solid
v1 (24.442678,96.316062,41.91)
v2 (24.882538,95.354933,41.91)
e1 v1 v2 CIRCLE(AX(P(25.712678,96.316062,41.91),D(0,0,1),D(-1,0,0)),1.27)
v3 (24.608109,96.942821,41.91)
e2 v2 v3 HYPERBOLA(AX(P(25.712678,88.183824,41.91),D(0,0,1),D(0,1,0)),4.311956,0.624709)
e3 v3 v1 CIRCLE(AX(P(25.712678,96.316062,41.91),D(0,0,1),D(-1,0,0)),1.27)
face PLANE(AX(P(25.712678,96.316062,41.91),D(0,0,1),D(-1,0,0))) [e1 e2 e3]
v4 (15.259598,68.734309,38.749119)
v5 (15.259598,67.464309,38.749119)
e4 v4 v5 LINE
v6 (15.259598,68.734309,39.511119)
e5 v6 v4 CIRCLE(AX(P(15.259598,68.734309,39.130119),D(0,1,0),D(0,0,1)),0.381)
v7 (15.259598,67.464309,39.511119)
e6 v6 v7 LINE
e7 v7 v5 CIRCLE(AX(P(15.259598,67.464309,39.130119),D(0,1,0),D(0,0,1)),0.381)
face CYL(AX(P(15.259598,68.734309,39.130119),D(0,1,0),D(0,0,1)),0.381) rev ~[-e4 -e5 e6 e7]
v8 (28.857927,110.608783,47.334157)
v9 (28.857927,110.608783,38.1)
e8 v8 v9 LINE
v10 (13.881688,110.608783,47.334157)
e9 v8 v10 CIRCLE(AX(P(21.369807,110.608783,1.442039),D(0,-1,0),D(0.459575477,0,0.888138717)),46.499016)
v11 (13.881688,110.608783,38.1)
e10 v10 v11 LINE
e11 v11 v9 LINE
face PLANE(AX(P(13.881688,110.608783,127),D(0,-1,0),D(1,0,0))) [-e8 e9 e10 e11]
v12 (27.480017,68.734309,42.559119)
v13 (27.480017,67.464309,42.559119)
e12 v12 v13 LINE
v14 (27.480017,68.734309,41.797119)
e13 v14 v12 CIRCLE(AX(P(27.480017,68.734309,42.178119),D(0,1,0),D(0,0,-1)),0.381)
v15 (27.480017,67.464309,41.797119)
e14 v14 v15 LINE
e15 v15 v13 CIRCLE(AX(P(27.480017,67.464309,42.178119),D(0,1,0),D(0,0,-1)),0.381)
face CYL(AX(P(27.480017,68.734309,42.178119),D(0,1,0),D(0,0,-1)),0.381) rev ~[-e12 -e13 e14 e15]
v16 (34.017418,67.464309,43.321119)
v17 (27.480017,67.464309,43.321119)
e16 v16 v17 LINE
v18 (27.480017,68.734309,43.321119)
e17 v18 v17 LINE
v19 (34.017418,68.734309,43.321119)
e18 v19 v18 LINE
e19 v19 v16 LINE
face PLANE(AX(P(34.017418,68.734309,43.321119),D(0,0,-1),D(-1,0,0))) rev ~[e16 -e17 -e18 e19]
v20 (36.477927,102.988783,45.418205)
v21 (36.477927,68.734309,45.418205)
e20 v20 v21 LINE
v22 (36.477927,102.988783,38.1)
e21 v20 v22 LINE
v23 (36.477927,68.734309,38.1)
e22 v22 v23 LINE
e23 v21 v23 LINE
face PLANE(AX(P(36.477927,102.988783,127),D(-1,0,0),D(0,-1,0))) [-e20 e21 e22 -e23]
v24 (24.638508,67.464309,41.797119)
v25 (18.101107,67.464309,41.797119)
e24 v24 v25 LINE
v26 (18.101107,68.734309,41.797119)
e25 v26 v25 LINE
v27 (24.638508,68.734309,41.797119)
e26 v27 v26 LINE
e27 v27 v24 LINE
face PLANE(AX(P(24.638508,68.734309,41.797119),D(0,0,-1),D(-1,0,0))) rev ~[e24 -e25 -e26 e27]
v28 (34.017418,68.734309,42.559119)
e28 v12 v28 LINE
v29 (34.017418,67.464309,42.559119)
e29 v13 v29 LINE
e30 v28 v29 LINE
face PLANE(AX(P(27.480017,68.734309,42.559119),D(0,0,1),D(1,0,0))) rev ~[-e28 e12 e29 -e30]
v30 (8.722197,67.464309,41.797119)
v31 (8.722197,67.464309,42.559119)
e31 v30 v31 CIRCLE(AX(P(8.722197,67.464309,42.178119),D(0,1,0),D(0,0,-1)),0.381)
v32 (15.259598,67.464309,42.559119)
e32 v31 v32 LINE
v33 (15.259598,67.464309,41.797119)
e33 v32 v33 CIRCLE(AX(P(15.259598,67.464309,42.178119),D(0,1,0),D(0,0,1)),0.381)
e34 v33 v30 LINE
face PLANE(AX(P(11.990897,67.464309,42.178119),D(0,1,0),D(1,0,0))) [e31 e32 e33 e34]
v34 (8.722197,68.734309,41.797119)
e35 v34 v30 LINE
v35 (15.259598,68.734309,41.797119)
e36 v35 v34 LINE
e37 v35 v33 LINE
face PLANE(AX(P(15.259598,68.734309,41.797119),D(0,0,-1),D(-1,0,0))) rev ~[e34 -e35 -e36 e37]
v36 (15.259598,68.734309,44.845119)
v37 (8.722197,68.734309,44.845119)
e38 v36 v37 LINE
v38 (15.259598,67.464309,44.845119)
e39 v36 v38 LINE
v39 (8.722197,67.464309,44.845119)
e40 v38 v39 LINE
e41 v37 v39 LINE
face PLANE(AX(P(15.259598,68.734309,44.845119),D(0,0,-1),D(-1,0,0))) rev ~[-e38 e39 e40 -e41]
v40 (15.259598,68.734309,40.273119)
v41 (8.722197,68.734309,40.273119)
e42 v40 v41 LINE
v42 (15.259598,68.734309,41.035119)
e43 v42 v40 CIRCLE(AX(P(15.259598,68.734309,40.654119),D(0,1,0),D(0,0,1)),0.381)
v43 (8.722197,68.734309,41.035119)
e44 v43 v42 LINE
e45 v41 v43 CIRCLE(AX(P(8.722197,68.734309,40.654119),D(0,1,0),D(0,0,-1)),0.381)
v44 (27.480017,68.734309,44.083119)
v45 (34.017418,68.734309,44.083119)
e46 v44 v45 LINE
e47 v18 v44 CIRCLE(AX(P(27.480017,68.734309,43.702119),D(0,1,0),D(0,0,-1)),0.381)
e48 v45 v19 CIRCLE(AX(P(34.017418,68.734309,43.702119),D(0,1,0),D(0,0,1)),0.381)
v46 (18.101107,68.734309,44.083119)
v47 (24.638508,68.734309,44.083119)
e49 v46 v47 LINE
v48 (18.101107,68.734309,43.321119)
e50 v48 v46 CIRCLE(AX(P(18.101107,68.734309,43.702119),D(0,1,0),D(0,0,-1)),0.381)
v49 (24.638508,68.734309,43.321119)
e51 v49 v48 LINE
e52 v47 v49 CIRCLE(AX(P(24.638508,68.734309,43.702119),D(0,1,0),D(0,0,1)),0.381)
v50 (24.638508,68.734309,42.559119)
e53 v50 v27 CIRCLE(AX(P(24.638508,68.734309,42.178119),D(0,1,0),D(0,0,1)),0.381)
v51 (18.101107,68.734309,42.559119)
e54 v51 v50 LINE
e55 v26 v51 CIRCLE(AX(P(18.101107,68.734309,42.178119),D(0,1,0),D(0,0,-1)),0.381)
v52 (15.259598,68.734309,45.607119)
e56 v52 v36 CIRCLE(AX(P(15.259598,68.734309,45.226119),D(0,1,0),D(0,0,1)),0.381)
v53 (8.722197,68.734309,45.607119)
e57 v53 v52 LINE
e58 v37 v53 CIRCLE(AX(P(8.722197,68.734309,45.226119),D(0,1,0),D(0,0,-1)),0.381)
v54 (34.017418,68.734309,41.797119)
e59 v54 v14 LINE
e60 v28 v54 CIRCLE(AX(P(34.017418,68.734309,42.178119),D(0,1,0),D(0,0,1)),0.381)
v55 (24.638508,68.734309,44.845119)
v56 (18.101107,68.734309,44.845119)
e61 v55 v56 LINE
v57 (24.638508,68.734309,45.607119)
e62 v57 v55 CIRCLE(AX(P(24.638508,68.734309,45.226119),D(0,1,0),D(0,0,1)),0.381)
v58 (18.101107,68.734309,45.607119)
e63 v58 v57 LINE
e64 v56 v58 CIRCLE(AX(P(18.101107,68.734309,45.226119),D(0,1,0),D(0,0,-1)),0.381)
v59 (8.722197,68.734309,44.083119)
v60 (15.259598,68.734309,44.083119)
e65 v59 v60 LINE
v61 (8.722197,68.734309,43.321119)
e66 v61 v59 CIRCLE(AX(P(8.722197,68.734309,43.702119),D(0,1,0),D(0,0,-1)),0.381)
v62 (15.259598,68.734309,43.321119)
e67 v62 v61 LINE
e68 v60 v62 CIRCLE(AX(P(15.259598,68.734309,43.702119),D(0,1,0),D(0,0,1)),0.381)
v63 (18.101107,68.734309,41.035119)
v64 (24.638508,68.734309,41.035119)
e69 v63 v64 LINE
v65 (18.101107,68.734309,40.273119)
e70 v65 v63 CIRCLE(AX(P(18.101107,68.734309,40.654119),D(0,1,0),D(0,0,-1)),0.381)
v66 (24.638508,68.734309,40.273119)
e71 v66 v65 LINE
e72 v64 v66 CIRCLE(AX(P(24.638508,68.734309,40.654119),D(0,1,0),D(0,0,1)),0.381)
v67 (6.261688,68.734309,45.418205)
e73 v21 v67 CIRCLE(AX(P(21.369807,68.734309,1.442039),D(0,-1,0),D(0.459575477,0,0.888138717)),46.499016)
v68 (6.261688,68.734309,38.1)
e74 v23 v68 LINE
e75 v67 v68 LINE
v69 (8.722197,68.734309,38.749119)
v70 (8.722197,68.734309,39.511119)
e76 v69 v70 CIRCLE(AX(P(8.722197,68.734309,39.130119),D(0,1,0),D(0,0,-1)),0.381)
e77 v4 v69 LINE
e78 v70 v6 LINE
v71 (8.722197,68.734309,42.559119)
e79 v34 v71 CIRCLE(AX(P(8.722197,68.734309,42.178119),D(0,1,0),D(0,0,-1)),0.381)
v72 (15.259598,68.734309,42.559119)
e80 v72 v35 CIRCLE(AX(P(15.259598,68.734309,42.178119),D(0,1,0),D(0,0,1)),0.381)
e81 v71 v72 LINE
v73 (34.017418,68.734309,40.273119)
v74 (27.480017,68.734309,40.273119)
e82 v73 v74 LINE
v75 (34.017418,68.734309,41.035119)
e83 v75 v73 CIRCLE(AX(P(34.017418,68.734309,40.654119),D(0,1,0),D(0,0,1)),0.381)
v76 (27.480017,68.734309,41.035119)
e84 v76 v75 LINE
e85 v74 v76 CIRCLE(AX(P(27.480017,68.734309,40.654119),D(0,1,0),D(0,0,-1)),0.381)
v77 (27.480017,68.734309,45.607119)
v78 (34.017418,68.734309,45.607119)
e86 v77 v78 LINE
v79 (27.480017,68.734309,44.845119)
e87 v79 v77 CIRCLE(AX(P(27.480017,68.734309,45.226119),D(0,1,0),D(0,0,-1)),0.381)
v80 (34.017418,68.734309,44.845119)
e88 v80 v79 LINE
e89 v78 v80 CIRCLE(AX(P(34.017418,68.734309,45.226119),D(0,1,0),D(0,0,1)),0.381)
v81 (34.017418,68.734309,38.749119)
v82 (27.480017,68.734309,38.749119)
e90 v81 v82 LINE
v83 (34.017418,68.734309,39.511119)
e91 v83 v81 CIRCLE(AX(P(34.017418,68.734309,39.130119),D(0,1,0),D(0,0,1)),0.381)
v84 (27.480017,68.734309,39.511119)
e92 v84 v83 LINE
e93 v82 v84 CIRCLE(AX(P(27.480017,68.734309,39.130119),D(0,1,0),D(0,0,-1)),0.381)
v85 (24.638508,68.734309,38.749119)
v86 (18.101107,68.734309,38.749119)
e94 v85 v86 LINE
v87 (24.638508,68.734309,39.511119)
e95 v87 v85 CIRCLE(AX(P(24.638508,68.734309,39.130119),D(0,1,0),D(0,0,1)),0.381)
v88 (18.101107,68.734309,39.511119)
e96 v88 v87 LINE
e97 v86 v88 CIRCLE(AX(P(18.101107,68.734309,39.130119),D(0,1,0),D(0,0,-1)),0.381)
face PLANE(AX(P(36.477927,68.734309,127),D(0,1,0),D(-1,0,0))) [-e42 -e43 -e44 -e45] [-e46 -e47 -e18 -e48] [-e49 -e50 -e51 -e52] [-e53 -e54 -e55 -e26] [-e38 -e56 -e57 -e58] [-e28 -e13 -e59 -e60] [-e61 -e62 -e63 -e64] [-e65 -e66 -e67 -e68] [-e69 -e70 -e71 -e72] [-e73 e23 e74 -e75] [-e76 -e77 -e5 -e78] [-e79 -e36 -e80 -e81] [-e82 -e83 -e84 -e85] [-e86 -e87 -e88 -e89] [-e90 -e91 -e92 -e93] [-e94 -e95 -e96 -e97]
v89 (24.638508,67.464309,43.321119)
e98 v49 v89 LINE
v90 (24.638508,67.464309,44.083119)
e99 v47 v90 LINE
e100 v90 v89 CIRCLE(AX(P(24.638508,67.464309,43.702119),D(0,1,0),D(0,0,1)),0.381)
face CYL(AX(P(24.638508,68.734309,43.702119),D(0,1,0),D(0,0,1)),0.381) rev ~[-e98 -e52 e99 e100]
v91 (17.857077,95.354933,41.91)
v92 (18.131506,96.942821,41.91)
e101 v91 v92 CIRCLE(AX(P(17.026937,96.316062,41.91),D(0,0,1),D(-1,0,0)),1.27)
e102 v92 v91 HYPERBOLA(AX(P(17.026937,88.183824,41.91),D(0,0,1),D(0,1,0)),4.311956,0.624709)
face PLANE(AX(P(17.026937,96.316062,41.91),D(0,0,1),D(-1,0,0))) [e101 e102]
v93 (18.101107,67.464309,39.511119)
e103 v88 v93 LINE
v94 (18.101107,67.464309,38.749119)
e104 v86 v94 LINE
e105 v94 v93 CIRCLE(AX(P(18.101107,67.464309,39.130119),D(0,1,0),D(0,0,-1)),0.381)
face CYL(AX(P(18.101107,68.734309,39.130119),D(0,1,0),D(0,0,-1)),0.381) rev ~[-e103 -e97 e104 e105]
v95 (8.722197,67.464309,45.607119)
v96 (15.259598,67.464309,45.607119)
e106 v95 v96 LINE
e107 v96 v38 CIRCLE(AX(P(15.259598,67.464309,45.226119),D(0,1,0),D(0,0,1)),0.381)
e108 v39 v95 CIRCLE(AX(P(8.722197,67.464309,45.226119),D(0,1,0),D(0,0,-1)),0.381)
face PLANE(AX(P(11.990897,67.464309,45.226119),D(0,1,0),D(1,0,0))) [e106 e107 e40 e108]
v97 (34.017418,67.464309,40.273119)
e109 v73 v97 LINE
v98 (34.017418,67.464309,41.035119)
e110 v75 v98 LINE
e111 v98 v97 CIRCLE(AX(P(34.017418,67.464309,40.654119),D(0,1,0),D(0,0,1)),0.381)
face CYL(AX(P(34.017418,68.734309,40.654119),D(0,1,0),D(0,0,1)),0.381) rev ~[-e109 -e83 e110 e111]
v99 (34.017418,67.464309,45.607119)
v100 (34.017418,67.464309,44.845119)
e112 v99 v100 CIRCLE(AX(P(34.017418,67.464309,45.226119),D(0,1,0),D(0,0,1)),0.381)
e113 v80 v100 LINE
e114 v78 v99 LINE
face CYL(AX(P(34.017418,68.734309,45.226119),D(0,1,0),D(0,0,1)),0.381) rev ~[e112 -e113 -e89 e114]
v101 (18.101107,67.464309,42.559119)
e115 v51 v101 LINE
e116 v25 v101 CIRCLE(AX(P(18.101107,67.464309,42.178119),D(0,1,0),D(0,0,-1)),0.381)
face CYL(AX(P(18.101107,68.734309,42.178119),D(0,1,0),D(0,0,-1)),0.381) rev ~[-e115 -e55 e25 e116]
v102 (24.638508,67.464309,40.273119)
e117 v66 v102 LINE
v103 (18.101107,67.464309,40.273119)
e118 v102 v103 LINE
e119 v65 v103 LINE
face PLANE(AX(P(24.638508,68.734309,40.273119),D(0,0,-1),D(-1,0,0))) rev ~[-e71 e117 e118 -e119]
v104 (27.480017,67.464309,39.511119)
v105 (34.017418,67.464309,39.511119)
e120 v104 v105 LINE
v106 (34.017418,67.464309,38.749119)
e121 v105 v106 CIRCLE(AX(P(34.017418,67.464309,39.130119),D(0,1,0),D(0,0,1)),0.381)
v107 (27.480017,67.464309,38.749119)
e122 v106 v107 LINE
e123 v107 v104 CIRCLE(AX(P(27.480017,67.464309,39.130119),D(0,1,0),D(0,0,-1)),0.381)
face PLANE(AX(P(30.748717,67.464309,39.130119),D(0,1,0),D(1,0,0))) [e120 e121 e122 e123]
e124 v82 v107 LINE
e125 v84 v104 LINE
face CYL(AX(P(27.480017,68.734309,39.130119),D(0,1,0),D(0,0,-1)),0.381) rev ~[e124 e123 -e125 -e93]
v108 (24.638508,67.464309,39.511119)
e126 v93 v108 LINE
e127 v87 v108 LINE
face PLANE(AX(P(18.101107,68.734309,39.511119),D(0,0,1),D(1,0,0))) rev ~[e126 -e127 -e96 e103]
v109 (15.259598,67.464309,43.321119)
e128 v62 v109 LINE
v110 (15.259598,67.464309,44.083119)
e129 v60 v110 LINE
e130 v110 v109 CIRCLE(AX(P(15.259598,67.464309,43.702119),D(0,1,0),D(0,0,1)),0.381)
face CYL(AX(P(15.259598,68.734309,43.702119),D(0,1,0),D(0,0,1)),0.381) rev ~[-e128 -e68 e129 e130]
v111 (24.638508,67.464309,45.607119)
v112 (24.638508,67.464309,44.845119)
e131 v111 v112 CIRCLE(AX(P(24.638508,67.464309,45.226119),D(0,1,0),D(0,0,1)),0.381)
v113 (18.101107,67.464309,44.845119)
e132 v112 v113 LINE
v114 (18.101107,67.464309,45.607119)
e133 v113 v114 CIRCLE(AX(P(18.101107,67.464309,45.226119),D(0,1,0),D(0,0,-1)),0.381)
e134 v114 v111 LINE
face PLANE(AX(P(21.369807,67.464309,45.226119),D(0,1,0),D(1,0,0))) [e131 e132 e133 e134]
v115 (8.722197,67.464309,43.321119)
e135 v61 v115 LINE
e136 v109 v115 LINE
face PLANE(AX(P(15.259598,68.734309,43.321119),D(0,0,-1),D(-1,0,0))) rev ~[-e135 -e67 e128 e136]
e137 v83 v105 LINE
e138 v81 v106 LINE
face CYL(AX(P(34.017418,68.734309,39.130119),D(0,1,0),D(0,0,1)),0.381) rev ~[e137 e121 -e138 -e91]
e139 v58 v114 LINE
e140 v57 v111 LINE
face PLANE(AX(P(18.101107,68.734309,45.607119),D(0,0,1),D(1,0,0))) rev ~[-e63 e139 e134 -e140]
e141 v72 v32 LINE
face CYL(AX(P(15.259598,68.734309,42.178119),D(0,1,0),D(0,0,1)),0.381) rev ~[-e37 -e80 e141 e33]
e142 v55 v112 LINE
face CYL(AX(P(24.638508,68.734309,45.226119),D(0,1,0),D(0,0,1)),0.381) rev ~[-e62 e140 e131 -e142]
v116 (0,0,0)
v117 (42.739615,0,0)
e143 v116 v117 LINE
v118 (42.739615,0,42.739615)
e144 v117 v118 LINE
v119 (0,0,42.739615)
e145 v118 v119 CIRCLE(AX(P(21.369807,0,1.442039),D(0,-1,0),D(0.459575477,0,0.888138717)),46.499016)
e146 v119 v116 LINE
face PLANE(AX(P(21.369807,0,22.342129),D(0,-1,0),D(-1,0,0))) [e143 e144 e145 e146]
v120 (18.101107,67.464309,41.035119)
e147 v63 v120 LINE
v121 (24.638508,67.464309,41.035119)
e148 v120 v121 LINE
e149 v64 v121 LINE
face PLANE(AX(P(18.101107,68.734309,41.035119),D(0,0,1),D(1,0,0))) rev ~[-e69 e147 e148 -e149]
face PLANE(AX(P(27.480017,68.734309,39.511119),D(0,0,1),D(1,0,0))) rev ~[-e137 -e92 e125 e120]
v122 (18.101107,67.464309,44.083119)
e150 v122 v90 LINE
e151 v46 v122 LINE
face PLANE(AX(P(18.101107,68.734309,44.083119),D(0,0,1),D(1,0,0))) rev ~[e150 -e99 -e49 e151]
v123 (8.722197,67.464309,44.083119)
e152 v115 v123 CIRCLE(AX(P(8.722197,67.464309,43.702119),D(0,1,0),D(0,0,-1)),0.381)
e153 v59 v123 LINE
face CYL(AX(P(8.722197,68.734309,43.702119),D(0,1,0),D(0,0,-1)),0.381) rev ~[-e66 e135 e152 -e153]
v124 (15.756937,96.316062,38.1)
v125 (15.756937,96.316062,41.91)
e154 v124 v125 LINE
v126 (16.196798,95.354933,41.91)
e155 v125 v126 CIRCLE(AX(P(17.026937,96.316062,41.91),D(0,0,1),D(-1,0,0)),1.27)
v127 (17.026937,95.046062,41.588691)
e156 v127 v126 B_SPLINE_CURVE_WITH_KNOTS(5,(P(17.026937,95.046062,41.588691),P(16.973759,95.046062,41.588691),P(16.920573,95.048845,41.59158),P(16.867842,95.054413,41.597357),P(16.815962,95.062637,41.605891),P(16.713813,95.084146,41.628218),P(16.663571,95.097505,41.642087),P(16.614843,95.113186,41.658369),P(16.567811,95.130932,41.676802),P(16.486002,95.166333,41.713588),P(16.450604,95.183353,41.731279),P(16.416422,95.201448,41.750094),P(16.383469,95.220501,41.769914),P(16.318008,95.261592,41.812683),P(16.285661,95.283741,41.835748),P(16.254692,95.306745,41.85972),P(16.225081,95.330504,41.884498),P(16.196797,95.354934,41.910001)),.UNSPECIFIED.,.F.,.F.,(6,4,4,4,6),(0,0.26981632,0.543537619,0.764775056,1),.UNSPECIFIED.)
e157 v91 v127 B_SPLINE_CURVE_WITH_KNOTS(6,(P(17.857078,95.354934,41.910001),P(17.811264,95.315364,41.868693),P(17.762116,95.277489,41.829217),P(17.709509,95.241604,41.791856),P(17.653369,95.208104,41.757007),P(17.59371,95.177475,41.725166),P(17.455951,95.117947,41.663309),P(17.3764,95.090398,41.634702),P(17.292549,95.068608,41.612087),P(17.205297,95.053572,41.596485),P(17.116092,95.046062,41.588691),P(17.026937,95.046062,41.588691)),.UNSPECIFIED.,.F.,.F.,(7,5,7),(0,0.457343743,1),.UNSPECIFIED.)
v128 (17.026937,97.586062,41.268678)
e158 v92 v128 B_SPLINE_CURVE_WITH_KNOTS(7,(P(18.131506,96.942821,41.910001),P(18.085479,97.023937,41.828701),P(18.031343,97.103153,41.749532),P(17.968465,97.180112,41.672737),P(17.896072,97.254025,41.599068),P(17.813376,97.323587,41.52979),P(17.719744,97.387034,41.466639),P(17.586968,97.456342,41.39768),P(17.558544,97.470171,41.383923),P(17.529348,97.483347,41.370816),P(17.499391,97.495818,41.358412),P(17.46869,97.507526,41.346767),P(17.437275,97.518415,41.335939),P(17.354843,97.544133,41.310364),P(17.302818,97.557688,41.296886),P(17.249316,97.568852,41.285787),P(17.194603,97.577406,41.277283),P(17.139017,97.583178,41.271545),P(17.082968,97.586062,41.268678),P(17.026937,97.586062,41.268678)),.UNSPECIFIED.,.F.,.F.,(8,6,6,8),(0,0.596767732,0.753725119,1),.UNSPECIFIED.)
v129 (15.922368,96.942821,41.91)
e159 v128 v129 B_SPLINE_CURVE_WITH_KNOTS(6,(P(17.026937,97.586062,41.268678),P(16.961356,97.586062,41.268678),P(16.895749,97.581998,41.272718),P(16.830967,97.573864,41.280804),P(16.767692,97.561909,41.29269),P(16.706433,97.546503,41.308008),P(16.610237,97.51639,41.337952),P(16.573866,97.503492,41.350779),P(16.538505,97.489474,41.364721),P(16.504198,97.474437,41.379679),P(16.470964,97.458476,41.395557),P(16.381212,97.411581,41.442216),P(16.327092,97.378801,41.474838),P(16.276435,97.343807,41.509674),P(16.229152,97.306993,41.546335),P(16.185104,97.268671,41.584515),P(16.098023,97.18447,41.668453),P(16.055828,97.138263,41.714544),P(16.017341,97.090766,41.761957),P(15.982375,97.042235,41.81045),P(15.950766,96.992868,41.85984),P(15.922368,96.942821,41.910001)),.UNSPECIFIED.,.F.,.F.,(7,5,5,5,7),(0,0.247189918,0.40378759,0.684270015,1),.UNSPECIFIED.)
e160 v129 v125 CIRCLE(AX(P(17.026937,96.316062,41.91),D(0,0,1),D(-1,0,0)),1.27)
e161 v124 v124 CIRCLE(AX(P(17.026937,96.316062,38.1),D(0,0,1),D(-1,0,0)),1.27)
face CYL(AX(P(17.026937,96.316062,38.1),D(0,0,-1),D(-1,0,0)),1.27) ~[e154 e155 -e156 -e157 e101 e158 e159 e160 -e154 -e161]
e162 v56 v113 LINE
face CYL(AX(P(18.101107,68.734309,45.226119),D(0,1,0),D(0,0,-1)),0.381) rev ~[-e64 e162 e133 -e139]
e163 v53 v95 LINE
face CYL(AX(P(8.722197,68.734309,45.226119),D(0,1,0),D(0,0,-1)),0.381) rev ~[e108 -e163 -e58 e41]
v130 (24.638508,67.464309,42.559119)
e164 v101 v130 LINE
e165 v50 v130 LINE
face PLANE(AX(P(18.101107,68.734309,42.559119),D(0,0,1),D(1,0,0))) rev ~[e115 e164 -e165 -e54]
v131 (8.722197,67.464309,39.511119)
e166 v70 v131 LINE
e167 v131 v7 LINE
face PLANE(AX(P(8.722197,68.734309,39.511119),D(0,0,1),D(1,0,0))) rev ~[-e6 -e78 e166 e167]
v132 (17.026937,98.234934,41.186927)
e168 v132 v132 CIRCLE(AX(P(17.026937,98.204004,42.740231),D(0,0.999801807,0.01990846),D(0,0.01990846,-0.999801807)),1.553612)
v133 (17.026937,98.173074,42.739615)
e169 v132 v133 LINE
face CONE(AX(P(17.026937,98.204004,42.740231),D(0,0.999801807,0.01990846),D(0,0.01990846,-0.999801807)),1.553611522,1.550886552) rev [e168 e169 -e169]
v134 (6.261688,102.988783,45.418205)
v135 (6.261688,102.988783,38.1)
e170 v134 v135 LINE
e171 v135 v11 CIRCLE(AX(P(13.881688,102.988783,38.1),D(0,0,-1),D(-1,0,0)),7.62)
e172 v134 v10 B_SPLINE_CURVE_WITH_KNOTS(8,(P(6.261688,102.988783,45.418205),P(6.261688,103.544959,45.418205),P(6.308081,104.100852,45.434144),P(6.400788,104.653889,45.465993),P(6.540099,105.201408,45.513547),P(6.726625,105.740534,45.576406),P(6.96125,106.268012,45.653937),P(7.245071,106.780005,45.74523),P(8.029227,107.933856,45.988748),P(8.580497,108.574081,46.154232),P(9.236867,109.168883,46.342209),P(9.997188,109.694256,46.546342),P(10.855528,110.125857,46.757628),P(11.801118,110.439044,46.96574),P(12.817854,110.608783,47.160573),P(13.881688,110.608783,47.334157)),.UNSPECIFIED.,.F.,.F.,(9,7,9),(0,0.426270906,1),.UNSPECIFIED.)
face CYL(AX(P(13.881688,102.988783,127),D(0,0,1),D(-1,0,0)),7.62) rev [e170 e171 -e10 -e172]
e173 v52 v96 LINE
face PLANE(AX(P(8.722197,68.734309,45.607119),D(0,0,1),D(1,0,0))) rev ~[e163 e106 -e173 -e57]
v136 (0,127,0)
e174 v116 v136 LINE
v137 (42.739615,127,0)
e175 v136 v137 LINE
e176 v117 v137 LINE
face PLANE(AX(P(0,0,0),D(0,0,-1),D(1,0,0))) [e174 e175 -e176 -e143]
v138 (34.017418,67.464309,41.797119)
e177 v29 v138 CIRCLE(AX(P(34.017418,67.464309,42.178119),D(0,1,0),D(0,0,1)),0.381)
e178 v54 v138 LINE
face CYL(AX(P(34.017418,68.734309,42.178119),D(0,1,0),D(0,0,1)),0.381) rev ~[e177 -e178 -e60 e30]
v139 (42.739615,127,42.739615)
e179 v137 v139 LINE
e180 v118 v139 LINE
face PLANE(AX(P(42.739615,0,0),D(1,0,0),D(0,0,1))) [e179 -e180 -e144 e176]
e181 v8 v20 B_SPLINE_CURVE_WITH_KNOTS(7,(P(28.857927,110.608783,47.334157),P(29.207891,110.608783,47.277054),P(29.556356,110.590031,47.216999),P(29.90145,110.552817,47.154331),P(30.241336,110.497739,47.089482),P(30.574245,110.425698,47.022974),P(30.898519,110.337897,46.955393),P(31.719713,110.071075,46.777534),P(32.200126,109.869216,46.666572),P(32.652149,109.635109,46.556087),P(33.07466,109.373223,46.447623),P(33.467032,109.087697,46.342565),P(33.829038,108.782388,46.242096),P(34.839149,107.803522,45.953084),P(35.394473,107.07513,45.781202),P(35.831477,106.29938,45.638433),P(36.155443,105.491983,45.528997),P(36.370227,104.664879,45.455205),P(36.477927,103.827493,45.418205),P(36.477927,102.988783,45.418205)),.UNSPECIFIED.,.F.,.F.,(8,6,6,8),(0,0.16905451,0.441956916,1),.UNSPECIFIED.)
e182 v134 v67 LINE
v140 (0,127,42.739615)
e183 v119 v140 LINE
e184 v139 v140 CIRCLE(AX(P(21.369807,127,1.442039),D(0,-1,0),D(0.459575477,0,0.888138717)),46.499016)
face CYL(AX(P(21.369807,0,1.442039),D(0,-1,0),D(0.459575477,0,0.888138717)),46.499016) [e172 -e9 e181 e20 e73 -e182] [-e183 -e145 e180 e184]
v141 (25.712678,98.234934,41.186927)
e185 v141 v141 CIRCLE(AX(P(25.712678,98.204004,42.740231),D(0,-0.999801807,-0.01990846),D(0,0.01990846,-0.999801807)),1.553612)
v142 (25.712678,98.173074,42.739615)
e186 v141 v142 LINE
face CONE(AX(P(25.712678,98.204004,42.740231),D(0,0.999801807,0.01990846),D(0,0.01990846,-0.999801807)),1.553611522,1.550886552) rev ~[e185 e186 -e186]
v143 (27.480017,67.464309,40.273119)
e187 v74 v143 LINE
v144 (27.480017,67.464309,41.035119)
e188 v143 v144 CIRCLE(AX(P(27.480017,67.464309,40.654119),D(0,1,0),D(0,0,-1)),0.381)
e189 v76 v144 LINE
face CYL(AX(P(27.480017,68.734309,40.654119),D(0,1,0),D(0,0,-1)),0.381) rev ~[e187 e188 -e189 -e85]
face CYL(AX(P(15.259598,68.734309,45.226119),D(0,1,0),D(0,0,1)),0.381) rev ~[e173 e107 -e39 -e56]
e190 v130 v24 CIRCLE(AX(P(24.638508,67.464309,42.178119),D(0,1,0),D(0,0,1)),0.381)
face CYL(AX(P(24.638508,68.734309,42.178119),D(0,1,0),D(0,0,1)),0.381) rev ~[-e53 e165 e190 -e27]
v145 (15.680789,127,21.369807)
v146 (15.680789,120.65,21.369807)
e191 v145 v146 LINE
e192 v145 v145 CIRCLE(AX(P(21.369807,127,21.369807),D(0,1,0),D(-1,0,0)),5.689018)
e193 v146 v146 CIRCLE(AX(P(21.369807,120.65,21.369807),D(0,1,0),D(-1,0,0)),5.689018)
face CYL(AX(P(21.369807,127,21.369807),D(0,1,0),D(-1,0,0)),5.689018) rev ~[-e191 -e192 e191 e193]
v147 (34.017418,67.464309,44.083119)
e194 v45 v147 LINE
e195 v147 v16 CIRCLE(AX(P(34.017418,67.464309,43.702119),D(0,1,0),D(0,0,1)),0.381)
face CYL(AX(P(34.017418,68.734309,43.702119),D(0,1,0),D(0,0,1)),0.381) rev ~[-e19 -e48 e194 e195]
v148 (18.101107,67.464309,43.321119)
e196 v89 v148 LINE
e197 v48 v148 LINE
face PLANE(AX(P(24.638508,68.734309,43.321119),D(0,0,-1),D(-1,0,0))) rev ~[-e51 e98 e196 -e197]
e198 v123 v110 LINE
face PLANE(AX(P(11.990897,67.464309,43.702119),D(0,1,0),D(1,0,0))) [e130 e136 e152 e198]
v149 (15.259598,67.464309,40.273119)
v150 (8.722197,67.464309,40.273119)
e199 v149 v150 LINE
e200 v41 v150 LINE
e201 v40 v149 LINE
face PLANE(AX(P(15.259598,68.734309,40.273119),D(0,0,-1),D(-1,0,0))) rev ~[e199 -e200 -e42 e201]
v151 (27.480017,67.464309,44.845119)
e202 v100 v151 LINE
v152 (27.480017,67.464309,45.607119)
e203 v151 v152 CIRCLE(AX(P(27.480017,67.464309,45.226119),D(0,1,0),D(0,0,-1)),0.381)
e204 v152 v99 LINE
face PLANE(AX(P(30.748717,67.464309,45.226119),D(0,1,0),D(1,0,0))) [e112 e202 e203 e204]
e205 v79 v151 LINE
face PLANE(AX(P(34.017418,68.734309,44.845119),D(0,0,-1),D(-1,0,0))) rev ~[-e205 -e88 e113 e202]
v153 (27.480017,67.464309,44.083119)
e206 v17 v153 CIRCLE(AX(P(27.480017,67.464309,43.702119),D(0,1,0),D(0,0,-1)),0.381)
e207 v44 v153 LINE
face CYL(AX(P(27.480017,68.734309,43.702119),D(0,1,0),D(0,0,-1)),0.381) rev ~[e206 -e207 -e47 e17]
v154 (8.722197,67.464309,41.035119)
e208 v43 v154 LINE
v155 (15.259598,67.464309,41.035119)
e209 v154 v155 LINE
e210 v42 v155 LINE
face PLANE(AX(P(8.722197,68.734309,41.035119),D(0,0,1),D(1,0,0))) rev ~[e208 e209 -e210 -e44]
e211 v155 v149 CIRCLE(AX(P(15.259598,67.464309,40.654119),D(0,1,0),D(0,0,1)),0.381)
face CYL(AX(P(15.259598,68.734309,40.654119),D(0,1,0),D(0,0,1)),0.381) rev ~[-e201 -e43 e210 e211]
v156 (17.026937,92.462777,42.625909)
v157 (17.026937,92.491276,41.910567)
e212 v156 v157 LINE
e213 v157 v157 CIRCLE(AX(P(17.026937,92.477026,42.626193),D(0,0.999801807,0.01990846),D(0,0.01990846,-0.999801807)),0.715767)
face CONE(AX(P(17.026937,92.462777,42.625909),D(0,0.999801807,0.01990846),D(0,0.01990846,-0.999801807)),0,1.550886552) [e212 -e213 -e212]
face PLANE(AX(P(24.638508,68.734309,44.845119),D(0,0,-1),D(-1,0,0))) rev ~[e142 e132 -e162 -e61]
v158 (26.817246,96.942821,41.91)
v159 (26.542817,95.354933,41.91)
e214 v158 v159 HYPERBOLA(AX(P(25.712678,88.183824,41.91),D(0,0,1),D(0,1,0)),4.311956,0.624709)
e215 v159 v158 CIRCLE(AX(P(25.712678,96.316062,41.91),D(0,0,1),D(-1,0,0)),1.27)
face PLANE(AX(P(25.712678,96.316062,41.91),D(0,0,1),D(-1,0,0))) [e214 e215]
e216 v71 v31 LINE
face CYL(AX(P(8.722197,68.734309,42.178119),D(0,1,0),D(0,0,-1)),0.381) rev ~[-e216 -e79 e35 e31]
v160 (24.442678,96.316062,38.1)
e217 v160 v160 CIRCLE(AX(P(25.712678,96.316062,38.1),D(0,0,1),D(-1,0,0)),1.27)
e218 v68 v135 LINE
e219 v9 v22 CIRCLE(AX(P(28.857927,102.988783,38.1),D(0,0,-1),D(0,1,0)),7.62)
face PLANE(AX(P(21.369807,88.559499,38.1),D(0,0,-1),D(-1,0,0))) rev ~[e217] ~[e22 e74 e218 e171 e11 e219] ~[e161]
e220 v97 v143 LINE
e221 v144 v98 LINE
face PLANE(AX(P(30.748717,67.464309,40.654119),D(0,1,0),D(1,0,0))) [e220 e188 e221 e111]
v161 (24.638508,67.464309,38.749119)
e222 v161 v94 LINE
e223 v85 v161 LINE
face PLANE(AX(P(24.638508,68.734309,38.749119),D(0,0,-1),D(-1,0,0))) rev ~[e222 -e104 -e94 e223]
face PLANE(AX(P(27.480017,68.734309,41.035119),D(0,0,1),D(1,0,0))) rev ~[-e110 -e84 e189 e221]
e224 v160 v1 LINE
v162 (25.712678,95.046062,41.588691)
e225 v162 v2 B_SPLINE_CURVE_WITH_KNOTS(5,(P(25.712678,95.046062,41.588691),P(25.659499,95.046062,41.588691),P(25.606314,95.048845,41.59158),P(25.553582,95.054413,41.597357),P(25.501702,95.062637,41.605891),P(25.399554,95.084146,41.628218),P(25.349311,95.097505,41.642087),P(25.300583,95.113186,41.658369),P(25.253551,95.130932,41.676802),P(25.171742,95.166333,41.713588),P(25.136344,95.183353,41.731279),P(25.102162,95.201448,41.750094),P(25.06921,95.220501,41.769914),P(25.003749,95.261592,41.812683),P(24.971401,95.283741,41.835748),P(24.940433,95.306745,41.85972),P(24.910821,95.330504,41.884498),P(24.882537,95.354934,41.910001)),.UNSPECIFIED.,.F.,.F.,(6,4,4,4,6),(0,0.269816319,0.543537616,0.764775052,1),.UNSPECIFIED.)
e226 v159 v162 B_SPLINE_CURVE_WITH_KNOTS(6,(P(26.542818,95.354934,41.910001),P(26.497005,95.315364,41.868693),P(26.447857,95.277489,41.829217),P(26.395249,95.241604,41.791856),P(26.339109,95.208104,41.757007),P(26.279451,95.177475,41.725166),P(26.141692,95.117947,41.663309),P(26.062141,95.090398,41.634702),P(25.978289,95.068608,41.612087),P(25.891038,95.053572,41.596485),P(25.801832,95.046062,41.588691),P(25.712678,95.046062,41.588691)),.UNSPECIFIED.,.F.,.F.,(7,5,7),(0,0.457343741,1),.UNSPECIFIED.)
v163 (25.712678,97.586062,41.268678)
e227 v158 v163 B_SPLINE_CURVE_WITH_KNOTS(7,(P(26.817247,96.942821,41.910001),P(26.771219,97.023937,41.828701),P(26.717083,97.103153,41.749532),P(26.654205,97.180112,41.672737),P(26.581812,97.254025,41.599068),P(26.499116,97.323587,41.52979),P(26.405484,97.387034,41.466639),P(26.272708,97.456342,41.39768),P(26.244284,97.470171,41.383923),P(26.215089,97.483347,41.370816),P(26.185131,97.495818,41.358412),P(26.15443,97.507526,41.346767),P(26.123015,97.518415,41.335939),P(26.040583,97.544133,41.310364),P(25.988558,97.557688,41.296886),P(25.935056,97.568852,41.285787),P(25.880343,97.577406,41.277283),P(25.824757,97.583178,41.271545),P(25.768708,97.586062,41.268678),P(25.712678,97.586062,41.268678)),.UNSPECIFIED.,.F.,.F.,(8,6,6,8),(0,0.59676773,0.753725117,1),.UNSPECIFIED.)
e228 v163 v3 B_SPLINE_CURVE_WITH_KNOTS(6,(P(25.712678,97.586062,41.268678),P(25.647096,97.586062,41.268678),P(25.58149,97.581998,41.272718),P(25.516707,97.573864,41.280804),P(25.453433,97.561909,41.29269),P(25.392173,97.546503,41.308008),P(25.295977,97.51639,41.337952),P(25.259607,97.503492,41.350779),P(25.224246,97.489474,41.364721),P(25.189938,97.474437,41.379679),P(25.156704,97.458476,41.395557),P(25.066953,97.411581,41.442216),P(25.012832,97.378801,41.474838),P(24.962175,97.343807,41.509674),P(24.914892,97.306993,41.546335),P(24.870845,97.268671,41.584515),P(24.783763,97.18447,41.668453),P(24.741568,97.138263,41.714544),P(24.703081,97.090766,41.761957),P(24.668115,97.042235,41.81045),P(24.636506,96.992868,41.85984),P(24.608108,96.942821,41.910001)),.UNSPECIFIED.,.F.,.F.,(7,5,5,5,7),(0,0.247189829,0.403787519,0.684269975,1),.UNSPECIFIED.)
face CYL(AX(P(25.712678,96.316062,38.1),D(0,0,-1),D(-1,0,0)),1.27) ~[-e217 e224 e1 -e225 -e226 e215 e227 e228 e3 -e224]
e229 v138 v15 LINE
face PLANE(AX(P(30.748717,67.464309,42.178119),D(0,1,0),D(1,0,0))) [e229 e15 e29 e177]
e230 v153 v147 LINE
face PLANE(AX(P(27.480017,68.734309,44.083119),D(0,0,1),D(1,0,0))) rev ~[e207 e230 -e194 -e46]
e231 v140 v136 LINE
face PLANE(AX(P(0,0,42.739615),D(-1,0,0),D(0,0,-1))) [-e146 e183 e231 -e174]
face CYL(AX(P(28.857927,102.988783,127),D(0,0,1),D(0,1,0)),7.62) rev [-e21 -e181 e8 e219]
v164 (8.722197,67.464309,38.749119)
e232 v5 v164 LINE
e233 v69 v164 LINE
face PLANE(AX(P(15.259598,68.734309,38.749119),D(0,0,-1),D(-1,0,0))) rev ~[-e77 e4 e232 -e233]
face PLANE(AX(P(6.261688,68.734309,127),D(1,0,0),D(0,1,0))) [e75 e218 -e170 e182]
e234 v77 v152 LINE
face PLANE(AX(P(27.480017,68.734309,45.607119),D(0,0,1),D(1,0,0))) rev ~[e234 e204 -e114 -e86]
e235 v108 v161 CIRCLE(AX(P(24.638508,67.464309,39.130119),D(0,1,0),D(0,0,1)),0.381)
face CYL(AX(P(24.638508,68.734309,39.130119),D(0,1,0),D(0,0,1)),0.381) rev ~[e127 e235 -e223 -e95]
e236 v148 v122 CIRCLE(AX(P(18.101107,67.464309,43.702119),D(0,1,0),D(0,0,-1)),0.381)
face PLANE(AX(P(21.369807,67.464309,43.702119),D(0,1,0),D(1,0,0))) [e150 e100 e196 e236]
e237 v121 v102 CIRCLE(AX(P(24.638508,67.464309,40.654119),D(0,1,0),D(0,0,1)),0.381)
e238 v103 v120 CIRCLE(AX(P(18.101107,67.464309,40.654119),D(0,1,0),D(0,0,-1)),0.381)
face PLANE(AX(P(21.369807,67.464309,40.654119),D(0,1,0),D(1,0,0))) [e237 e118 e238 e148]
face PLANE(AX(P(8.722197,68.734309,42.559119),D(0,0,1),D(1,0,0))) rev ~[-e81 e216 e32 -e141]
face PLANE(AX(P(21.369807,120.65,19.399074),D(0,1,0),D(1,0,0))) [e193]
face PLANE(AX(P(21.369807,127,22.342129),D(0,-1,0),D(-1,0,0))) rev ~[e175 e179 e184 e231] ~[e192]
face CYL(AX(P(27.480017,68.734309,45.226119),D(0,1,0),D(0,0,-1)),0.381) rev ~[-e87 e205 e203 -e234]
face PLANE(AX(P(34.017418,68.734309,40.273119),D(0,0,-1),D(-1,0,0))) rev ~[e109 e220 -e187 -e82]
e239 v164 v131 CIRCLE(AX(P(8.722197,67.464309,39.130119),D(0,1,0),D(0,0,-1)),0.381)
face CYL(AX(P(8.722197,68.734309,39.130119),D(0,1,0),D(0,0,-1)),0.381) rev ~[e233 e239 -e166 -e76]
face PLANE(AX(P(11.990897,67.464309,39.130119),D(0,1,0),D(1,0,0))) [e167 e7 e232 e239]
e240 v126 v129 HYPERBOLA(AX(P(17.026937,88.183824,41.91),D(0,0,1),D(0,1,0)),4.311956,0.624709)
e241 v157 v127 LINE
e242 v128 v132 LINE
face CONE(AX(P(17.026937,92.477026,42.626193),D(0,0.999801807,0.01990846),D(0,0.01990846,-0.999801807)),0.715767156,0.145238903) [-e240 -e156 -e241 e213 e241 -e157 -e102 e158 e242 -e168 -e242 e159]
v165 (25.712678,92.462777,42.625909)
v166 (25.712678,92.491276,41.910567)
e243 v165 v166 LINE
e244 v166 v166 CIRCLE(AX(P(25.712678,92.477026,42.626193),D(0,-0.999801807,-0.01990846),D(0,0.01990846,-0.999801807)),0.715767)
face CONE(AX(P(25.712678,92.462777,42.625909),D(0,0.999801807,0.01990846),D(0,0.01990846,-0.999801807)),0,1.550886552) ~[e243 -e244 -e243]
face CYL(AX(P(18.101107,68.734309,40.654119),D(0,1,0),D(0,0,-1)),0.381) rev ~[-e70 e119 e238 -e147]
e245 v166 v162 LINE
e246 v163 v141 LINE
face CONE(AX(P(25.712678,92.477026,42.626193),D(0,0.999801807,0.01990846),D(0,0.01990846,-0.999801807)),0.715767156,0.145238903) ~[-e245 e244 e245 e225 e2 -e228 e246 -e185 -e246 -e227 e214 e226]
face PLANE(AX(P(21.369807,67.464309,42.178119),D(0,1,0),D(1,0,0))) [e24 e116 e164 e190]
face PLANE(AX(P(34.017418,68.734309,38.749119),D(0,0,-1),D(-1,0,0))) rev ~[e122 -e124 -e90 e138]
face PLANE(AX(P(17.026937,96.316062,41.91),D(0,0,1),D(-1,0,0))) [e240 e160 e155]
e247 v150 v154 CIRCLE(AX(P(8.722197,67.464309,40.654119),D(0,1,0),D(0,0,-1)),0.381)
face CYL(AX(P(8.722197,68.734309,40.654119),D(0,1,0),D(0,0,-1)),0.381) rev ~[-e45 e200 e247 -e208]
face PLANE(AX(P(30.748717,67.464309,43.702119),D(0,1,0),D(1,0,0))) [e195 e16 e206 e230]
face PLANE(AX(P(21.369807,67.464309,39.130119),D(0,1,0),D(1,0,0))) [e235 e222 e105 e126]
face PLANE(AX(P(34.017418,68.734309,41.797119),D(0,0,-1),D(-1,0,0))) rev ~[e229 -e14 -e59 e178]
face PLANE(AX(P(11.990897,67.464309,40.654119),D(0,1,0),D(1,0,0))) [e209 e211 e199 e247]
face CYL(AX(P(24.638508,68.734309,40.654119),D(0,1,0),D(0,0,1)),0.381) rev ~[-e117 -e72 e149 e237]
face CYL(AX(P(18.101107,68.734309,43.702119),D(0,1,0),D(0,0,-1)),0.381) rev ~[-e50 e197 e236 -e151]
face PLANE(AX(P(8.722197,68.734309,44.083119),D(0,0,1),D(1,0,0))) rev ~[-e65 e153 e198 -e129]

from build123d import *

# Parameters (mm, degrees)
BOSS_EXTRUDE1_DEPTH = 127
CUT_EXTRUDE1_DEPTH  = 88.9
CUT_EXTRUDE2_DEPTH  = 1.27
CUT_EXTRUDE3_DEPTH  = 6.35
SKETCH6_R           = 1.27
BOSS_EXTRUDE2_DEPTH = 3.81


with BuildPart() as part:
    # Sketch1 → Boss-Extrude1 (new body)
    with BuildSketch(Plane(origin=(0, 0, 0), x_dir=(1, 0, 0), z_dir=(0, 1, 0))):
        with BuildLine():
            Line((0, 0), (42.739614803, 0))
            Line((42.739614803, 0), (42.739614803, -42.739614803))
            ThreePointArc((42.739614803, -42.739614803), (21.369807402, -47.941054373), (0, -42.739614803))
            Line((0, -42.739614803), (0, 0))
        make_face()
    extrude(amount=BOSS_EXTRUDE1_DEPTH)

    # Sketch2 → Cut-Extrude1 (cut)
    with BuildSketch(Plane.XY.offset(127)):
        with BuildLine():
            Line((13.881687598, 110.608783011), (28.857927206, 110.608783011))
            ThreePointArc((28.857927206, 110.608783011), (34.246080878, 108.376936683), (36.477927206, 102.988783011))
            Line((36.477927206, 102.988783011), (36.477927206, 68.734309223))
            Line((36.477927206, 68.734309223), (6.261687598, 68.734309223))
            Line((6.261687598, 68.734309223), (6.261687598, 102.988783011))
            ThreePointArc((6.261687598, 102.988783011), (8.493533925, 108.376936683), (13.881687598, 110.608783011))
        make_face()
    extrude(amount=-CUT_EXTRUDE1_DEPTH, mode=Mode.SUBTRACT)

    # Sketch4 → Cut-Extrude2 (cut)
    with BuildSketch(Plane(origin=(0, 68.734309223, 0), x_dir=(1, 0, 0), z_dir=(0, 1, 0))):
        with BuildLine():
            Line((18.101107041, -45.607119247), (24.638507762, -45.607119247))
            ThreePointArc((24.638507762, -45.607119247), (25.019507762, -45.226119247), (24.638507762, -44.845119247))
            Line((24.638507762, -44.845119247), (18.101107041, -44.845119247))
            ThreePointArc((18.101107041, -44.845119247), (17.720107041, -45.226119247), (18.101107041, -45.607119247))
        make_face()
        with BuildLine():
            Line((8.722196959, -45.607119247), (15.25959768, -45.607119247))
            ThreePointArc((15.25959768, -45.607119247), (15.64059768, -45.226119247), (15.25959768, -44.845119247))
            Line((15.25959768, -44.845119247), (8.722196959, -44.845119247))
            ThreePointArc((8.722196959, -44.845119247), (8.341196959, -45.226119247), (8.722196959, -45.607119247))
        make_face()
        with BuildLine():
            Line((8.722196959, -42.559119247), (15.25959768, -42.559119247))
            ThreePointArc((15.25959768, -42.559119247), (15.64059768, -42.178119247), (15.25959768, -41.797119247))
            Line((15.25959768, -41.797119247), (8.722196959, -41.797119247))
            ThreePointArc((8.722196959, -41.797119247), (8.341196959, -42.178119247), (8.722196959, -42.559119247))
        make_face()
        with BuildLine():
            Line((8.722196959, -44.083119247), (15.25959768, -44.083119247))
            ThreePointArc((15.25959768, -44.083119247), (15.64059768, -43.702119247), (15.25959768, -43.321119247))
            Line((15.25959768, -43.321119247), (8.722196959, -43.321119247))
            ThreePointArc((8.722196959, -43.321119247), (8.341196959, -43.702119247), (8.722196959, -44.083119247))
        make_face()
        with BuildLine():
            Line((18.101107041, -44.083119247), (24.638507762, -44.083119247))
            ThreePointArc((24.638507762, -44.083119247), (25.019507762, -43.702119247), (24.638507762, -43.321119247))
            Line((24.638507762, -43.321119247), (18.101107041, -43.321119247))
            ThreePointArc((18.101107041, -43.321119247), (17.720107041, -43.702119247), (18.101107041, -44.083119247))
        make_face()
        with BuildLine():
            Line((18.101107041, -42.559119247), (24.638507762, -42.559119247))
            ThreePointArc((24.638507762, -42.559119247), (25.019507762, -42.178119247), (24.638507762, -41.797119247))
            Line((24.638507762, -41.797119247), (18.101107041, -41.797119247))
            ThreePointArc((18.101107041, -41.797119247), (17.720107041, -42.178119247), (18.101107041, -42.559119247))
        make_face()
        with BuildLine():
            Line((18.101107041, -41.035119247), (24.638507762, -41.035119247))
            ThreePointArc((24.638507762, -41.035119247), (25.019507762, -40.654119247), (24.638507762, -40.273119247))
            Line((24.638507762, -40.273119247), (18.101107041, -40.273119247))
            ThreePointArc((18.101107041, -40.273119247), (17.720107041, -40.654119247), (18.101107041, -41.035119247))
        make_face()
        with BuildLine():
            Line((18.101107041, -39.511119247), (24.638507762, -39.511119247))
            ThreePointArc((24.638507762, -39.511119247), (25.019507762, -39.130119247), (24.638507762, -38.749119247))
            Line((24.638507762, -38.749119247), (18.101107041, -38.749119247))
            ThreePointArc((18.101107041, -38.749119247), (17.720107041, -39.130119247), (18.101107041, -39.511119247))
        make_face()
        with BuildLine():
            Line((8.722196959, -41.035119247), (15.25959768, -41.035119247))
            ThreePointArc((15.25959768, -41.035119247), (15.64059768, -40.654119247), (15.25959768, -40.273119247))
            Line((15.25959768, -40.273119247), (8.722196959, -40.273119247))
            ThreePointArc((8.722196959, -40.273119247), (8.341196959, -40.654119247), (8.722196959, -41.035119247))
        make_face()
        with BuildLine():
            Line((8.722196959, -39.511119247), (15.25959768, -39.511119247))
            ThreePointArc((15.25959768, -39.511119247), (15.64059768, -39.130119247), (15.25959768, -38.749119247))
            Line((15.25959768, -38.749119247), (8.722196959, -38.749119247))
            ThreePointArc((8.722196959, -38.749119247), (8.341196959, -39.130119247), (8.722196959, -39.511119247))
        make_face()
        with BuildLine():
            Line((27.480017123, -44.083119247), (34.017417844, -44.083119247))
            ThreePointArc((34.017417844, -44.083119247), (34.398417844, -43.702119247), (34.017417844, -43.321119247))
            Line((34.017417844, -43.321119247), (27.480017123, -43.321119247))
            ThreePointArc((27.480017123, -43.321119247), (27.099017123, -43.702119247), (27.480017123, -44.083119247))
        make_face()
        with BuildLine():
            Line((27.480017123, -42.559119247), (34.017417844, -42.559119247))
            ThreePointArc((34.017417844, -42.559119247), (34.398417844, -42.178119247), (34.017417844, -41.797119247))
            Line((34.017417844, -41.797119247), (27.480017123, -41.797119247))
            ThreePointArc((27.480017123, -41.797119247), (27.099017123, -42.178119247), (27.480017123, -42.559119247))
        make_face()
        with BuildLine():
            Line((27.480017123, -41.035119247), (34.017417844, -41.035119247))
            ThreePointArc((34.017417844, -41.035119247), (34.398417844, -40.654119247), (34.017417844, -40.273119247))
            Line((34.017417844, -40.273119247), (27.480017123, -40.273119247))
            ThreePointArc((27.480017123, -40.273119247), (27.099017123, -40.654119247), (27.480017123, -41.035119247))
        make_face()
        with BuildLine():
            Line((27.480017123, -39.511119247), (34.017417844, -39.511119247))
            ThreePointArc((34.017417844, -39.511119247), (34.398417844, -39.130119247), (34.017417844, -38.749119247))
            Line((34.017417844, -38.749119247), (27.480017123, -38.749119247))
            ThreePointArc((27.480017123, -38.749119247), (27.099017123, -39.130119247), (27.480017123, -39.511119247))
        make_face()
        with BuildLine():
            ThreePointArc((27.480017123, -44.845119247), (27.099017123, -45.226119247), (27.480017123, -45.607119247))
            Line((27.480017123, -45.607119247), (34.017417844, -45.607119247))
            ThreePointArc((34.017417844, -45.607119247), (34.398417844, -45.226119247), (34.017417844, -44.845119247))
            Line((34.017417844, -44.845119247), (27.480017123, -44.845119247))
        make_face()
    extrude(amount=-CUT_EXTRUDE2_DEPTH, mode=Mode.SUBTRACT)

    # Sketch5 → Cut-Extrude3 (cut)
    with BuildSketch(Plane(origin=(0, 127, 0), x_dir=(1, 0, 0), z_dir=(0, 1, 0))):
        with BuildLine():
            ThreePointArc((27.058825704, -21.369807402), (21.369807402, -15.680789099), (15.680789099, -21.369807402))
            Line((15.680789099, -21.369807402), (27.058825704, -21.369807402))
        make_face()
        with BuildLine():
            Line((27.058825704, -21.369807402), (15.680789099, -21.369807402))
            ThreePointArc((15.680789099, -21.369807402), (21.369807402, -27.058825704), (27.058825704, -21.369807402))
        make_face()
    extrude(amount=-CUT_EXTRUDE3_DEPTH, mode=Mode.SUBTRACT)

    # Sketch6 → Boss-Extrude2 (add)
    with BuildSketch(Plane.XY.offset(38.1)):
        with Locations(Location((17.026937254, 96.316061715, 0), (0, 0, 180))):
            Circle(SKETCH6_R)
        with Locations(Location((25.712677549, 96.316061715, 0), (0, 0, 180))):
            Circle(SKETCH6_R)
    extrude(amount=BOSS_EXTRUDE2_DEPTH)

    # Sketch8 → Revolve1 (revolve)
    with BuildSketch(Plane.YZ.offset(17.026937254), mode=Mode.PRIVATE) as revolve1_sk:
        Polygon((92.462776609, 42.625909045), (92.462776609, 43.341818089), (98.173073883, 44.293534302), (98.173073883, 42.739614803), align=None)
    revolve1 = revolve(revolve1_sk.sketch.rotate(Axis((17.026937254, 92.462776609, 42.625909045), (0, 0.9998018069764348, 0.01990845967561906)), 180), axis=Axis((17.026937254, 92.462776609, 42.625909045), (0, 0.9998018069764348, 0.01990845967561906)))

    # Mirror1: Revolve1 across plane
    add(revolve1.mirror(Plane.ZY.offset(-21.369807402)))


solid = part.part
